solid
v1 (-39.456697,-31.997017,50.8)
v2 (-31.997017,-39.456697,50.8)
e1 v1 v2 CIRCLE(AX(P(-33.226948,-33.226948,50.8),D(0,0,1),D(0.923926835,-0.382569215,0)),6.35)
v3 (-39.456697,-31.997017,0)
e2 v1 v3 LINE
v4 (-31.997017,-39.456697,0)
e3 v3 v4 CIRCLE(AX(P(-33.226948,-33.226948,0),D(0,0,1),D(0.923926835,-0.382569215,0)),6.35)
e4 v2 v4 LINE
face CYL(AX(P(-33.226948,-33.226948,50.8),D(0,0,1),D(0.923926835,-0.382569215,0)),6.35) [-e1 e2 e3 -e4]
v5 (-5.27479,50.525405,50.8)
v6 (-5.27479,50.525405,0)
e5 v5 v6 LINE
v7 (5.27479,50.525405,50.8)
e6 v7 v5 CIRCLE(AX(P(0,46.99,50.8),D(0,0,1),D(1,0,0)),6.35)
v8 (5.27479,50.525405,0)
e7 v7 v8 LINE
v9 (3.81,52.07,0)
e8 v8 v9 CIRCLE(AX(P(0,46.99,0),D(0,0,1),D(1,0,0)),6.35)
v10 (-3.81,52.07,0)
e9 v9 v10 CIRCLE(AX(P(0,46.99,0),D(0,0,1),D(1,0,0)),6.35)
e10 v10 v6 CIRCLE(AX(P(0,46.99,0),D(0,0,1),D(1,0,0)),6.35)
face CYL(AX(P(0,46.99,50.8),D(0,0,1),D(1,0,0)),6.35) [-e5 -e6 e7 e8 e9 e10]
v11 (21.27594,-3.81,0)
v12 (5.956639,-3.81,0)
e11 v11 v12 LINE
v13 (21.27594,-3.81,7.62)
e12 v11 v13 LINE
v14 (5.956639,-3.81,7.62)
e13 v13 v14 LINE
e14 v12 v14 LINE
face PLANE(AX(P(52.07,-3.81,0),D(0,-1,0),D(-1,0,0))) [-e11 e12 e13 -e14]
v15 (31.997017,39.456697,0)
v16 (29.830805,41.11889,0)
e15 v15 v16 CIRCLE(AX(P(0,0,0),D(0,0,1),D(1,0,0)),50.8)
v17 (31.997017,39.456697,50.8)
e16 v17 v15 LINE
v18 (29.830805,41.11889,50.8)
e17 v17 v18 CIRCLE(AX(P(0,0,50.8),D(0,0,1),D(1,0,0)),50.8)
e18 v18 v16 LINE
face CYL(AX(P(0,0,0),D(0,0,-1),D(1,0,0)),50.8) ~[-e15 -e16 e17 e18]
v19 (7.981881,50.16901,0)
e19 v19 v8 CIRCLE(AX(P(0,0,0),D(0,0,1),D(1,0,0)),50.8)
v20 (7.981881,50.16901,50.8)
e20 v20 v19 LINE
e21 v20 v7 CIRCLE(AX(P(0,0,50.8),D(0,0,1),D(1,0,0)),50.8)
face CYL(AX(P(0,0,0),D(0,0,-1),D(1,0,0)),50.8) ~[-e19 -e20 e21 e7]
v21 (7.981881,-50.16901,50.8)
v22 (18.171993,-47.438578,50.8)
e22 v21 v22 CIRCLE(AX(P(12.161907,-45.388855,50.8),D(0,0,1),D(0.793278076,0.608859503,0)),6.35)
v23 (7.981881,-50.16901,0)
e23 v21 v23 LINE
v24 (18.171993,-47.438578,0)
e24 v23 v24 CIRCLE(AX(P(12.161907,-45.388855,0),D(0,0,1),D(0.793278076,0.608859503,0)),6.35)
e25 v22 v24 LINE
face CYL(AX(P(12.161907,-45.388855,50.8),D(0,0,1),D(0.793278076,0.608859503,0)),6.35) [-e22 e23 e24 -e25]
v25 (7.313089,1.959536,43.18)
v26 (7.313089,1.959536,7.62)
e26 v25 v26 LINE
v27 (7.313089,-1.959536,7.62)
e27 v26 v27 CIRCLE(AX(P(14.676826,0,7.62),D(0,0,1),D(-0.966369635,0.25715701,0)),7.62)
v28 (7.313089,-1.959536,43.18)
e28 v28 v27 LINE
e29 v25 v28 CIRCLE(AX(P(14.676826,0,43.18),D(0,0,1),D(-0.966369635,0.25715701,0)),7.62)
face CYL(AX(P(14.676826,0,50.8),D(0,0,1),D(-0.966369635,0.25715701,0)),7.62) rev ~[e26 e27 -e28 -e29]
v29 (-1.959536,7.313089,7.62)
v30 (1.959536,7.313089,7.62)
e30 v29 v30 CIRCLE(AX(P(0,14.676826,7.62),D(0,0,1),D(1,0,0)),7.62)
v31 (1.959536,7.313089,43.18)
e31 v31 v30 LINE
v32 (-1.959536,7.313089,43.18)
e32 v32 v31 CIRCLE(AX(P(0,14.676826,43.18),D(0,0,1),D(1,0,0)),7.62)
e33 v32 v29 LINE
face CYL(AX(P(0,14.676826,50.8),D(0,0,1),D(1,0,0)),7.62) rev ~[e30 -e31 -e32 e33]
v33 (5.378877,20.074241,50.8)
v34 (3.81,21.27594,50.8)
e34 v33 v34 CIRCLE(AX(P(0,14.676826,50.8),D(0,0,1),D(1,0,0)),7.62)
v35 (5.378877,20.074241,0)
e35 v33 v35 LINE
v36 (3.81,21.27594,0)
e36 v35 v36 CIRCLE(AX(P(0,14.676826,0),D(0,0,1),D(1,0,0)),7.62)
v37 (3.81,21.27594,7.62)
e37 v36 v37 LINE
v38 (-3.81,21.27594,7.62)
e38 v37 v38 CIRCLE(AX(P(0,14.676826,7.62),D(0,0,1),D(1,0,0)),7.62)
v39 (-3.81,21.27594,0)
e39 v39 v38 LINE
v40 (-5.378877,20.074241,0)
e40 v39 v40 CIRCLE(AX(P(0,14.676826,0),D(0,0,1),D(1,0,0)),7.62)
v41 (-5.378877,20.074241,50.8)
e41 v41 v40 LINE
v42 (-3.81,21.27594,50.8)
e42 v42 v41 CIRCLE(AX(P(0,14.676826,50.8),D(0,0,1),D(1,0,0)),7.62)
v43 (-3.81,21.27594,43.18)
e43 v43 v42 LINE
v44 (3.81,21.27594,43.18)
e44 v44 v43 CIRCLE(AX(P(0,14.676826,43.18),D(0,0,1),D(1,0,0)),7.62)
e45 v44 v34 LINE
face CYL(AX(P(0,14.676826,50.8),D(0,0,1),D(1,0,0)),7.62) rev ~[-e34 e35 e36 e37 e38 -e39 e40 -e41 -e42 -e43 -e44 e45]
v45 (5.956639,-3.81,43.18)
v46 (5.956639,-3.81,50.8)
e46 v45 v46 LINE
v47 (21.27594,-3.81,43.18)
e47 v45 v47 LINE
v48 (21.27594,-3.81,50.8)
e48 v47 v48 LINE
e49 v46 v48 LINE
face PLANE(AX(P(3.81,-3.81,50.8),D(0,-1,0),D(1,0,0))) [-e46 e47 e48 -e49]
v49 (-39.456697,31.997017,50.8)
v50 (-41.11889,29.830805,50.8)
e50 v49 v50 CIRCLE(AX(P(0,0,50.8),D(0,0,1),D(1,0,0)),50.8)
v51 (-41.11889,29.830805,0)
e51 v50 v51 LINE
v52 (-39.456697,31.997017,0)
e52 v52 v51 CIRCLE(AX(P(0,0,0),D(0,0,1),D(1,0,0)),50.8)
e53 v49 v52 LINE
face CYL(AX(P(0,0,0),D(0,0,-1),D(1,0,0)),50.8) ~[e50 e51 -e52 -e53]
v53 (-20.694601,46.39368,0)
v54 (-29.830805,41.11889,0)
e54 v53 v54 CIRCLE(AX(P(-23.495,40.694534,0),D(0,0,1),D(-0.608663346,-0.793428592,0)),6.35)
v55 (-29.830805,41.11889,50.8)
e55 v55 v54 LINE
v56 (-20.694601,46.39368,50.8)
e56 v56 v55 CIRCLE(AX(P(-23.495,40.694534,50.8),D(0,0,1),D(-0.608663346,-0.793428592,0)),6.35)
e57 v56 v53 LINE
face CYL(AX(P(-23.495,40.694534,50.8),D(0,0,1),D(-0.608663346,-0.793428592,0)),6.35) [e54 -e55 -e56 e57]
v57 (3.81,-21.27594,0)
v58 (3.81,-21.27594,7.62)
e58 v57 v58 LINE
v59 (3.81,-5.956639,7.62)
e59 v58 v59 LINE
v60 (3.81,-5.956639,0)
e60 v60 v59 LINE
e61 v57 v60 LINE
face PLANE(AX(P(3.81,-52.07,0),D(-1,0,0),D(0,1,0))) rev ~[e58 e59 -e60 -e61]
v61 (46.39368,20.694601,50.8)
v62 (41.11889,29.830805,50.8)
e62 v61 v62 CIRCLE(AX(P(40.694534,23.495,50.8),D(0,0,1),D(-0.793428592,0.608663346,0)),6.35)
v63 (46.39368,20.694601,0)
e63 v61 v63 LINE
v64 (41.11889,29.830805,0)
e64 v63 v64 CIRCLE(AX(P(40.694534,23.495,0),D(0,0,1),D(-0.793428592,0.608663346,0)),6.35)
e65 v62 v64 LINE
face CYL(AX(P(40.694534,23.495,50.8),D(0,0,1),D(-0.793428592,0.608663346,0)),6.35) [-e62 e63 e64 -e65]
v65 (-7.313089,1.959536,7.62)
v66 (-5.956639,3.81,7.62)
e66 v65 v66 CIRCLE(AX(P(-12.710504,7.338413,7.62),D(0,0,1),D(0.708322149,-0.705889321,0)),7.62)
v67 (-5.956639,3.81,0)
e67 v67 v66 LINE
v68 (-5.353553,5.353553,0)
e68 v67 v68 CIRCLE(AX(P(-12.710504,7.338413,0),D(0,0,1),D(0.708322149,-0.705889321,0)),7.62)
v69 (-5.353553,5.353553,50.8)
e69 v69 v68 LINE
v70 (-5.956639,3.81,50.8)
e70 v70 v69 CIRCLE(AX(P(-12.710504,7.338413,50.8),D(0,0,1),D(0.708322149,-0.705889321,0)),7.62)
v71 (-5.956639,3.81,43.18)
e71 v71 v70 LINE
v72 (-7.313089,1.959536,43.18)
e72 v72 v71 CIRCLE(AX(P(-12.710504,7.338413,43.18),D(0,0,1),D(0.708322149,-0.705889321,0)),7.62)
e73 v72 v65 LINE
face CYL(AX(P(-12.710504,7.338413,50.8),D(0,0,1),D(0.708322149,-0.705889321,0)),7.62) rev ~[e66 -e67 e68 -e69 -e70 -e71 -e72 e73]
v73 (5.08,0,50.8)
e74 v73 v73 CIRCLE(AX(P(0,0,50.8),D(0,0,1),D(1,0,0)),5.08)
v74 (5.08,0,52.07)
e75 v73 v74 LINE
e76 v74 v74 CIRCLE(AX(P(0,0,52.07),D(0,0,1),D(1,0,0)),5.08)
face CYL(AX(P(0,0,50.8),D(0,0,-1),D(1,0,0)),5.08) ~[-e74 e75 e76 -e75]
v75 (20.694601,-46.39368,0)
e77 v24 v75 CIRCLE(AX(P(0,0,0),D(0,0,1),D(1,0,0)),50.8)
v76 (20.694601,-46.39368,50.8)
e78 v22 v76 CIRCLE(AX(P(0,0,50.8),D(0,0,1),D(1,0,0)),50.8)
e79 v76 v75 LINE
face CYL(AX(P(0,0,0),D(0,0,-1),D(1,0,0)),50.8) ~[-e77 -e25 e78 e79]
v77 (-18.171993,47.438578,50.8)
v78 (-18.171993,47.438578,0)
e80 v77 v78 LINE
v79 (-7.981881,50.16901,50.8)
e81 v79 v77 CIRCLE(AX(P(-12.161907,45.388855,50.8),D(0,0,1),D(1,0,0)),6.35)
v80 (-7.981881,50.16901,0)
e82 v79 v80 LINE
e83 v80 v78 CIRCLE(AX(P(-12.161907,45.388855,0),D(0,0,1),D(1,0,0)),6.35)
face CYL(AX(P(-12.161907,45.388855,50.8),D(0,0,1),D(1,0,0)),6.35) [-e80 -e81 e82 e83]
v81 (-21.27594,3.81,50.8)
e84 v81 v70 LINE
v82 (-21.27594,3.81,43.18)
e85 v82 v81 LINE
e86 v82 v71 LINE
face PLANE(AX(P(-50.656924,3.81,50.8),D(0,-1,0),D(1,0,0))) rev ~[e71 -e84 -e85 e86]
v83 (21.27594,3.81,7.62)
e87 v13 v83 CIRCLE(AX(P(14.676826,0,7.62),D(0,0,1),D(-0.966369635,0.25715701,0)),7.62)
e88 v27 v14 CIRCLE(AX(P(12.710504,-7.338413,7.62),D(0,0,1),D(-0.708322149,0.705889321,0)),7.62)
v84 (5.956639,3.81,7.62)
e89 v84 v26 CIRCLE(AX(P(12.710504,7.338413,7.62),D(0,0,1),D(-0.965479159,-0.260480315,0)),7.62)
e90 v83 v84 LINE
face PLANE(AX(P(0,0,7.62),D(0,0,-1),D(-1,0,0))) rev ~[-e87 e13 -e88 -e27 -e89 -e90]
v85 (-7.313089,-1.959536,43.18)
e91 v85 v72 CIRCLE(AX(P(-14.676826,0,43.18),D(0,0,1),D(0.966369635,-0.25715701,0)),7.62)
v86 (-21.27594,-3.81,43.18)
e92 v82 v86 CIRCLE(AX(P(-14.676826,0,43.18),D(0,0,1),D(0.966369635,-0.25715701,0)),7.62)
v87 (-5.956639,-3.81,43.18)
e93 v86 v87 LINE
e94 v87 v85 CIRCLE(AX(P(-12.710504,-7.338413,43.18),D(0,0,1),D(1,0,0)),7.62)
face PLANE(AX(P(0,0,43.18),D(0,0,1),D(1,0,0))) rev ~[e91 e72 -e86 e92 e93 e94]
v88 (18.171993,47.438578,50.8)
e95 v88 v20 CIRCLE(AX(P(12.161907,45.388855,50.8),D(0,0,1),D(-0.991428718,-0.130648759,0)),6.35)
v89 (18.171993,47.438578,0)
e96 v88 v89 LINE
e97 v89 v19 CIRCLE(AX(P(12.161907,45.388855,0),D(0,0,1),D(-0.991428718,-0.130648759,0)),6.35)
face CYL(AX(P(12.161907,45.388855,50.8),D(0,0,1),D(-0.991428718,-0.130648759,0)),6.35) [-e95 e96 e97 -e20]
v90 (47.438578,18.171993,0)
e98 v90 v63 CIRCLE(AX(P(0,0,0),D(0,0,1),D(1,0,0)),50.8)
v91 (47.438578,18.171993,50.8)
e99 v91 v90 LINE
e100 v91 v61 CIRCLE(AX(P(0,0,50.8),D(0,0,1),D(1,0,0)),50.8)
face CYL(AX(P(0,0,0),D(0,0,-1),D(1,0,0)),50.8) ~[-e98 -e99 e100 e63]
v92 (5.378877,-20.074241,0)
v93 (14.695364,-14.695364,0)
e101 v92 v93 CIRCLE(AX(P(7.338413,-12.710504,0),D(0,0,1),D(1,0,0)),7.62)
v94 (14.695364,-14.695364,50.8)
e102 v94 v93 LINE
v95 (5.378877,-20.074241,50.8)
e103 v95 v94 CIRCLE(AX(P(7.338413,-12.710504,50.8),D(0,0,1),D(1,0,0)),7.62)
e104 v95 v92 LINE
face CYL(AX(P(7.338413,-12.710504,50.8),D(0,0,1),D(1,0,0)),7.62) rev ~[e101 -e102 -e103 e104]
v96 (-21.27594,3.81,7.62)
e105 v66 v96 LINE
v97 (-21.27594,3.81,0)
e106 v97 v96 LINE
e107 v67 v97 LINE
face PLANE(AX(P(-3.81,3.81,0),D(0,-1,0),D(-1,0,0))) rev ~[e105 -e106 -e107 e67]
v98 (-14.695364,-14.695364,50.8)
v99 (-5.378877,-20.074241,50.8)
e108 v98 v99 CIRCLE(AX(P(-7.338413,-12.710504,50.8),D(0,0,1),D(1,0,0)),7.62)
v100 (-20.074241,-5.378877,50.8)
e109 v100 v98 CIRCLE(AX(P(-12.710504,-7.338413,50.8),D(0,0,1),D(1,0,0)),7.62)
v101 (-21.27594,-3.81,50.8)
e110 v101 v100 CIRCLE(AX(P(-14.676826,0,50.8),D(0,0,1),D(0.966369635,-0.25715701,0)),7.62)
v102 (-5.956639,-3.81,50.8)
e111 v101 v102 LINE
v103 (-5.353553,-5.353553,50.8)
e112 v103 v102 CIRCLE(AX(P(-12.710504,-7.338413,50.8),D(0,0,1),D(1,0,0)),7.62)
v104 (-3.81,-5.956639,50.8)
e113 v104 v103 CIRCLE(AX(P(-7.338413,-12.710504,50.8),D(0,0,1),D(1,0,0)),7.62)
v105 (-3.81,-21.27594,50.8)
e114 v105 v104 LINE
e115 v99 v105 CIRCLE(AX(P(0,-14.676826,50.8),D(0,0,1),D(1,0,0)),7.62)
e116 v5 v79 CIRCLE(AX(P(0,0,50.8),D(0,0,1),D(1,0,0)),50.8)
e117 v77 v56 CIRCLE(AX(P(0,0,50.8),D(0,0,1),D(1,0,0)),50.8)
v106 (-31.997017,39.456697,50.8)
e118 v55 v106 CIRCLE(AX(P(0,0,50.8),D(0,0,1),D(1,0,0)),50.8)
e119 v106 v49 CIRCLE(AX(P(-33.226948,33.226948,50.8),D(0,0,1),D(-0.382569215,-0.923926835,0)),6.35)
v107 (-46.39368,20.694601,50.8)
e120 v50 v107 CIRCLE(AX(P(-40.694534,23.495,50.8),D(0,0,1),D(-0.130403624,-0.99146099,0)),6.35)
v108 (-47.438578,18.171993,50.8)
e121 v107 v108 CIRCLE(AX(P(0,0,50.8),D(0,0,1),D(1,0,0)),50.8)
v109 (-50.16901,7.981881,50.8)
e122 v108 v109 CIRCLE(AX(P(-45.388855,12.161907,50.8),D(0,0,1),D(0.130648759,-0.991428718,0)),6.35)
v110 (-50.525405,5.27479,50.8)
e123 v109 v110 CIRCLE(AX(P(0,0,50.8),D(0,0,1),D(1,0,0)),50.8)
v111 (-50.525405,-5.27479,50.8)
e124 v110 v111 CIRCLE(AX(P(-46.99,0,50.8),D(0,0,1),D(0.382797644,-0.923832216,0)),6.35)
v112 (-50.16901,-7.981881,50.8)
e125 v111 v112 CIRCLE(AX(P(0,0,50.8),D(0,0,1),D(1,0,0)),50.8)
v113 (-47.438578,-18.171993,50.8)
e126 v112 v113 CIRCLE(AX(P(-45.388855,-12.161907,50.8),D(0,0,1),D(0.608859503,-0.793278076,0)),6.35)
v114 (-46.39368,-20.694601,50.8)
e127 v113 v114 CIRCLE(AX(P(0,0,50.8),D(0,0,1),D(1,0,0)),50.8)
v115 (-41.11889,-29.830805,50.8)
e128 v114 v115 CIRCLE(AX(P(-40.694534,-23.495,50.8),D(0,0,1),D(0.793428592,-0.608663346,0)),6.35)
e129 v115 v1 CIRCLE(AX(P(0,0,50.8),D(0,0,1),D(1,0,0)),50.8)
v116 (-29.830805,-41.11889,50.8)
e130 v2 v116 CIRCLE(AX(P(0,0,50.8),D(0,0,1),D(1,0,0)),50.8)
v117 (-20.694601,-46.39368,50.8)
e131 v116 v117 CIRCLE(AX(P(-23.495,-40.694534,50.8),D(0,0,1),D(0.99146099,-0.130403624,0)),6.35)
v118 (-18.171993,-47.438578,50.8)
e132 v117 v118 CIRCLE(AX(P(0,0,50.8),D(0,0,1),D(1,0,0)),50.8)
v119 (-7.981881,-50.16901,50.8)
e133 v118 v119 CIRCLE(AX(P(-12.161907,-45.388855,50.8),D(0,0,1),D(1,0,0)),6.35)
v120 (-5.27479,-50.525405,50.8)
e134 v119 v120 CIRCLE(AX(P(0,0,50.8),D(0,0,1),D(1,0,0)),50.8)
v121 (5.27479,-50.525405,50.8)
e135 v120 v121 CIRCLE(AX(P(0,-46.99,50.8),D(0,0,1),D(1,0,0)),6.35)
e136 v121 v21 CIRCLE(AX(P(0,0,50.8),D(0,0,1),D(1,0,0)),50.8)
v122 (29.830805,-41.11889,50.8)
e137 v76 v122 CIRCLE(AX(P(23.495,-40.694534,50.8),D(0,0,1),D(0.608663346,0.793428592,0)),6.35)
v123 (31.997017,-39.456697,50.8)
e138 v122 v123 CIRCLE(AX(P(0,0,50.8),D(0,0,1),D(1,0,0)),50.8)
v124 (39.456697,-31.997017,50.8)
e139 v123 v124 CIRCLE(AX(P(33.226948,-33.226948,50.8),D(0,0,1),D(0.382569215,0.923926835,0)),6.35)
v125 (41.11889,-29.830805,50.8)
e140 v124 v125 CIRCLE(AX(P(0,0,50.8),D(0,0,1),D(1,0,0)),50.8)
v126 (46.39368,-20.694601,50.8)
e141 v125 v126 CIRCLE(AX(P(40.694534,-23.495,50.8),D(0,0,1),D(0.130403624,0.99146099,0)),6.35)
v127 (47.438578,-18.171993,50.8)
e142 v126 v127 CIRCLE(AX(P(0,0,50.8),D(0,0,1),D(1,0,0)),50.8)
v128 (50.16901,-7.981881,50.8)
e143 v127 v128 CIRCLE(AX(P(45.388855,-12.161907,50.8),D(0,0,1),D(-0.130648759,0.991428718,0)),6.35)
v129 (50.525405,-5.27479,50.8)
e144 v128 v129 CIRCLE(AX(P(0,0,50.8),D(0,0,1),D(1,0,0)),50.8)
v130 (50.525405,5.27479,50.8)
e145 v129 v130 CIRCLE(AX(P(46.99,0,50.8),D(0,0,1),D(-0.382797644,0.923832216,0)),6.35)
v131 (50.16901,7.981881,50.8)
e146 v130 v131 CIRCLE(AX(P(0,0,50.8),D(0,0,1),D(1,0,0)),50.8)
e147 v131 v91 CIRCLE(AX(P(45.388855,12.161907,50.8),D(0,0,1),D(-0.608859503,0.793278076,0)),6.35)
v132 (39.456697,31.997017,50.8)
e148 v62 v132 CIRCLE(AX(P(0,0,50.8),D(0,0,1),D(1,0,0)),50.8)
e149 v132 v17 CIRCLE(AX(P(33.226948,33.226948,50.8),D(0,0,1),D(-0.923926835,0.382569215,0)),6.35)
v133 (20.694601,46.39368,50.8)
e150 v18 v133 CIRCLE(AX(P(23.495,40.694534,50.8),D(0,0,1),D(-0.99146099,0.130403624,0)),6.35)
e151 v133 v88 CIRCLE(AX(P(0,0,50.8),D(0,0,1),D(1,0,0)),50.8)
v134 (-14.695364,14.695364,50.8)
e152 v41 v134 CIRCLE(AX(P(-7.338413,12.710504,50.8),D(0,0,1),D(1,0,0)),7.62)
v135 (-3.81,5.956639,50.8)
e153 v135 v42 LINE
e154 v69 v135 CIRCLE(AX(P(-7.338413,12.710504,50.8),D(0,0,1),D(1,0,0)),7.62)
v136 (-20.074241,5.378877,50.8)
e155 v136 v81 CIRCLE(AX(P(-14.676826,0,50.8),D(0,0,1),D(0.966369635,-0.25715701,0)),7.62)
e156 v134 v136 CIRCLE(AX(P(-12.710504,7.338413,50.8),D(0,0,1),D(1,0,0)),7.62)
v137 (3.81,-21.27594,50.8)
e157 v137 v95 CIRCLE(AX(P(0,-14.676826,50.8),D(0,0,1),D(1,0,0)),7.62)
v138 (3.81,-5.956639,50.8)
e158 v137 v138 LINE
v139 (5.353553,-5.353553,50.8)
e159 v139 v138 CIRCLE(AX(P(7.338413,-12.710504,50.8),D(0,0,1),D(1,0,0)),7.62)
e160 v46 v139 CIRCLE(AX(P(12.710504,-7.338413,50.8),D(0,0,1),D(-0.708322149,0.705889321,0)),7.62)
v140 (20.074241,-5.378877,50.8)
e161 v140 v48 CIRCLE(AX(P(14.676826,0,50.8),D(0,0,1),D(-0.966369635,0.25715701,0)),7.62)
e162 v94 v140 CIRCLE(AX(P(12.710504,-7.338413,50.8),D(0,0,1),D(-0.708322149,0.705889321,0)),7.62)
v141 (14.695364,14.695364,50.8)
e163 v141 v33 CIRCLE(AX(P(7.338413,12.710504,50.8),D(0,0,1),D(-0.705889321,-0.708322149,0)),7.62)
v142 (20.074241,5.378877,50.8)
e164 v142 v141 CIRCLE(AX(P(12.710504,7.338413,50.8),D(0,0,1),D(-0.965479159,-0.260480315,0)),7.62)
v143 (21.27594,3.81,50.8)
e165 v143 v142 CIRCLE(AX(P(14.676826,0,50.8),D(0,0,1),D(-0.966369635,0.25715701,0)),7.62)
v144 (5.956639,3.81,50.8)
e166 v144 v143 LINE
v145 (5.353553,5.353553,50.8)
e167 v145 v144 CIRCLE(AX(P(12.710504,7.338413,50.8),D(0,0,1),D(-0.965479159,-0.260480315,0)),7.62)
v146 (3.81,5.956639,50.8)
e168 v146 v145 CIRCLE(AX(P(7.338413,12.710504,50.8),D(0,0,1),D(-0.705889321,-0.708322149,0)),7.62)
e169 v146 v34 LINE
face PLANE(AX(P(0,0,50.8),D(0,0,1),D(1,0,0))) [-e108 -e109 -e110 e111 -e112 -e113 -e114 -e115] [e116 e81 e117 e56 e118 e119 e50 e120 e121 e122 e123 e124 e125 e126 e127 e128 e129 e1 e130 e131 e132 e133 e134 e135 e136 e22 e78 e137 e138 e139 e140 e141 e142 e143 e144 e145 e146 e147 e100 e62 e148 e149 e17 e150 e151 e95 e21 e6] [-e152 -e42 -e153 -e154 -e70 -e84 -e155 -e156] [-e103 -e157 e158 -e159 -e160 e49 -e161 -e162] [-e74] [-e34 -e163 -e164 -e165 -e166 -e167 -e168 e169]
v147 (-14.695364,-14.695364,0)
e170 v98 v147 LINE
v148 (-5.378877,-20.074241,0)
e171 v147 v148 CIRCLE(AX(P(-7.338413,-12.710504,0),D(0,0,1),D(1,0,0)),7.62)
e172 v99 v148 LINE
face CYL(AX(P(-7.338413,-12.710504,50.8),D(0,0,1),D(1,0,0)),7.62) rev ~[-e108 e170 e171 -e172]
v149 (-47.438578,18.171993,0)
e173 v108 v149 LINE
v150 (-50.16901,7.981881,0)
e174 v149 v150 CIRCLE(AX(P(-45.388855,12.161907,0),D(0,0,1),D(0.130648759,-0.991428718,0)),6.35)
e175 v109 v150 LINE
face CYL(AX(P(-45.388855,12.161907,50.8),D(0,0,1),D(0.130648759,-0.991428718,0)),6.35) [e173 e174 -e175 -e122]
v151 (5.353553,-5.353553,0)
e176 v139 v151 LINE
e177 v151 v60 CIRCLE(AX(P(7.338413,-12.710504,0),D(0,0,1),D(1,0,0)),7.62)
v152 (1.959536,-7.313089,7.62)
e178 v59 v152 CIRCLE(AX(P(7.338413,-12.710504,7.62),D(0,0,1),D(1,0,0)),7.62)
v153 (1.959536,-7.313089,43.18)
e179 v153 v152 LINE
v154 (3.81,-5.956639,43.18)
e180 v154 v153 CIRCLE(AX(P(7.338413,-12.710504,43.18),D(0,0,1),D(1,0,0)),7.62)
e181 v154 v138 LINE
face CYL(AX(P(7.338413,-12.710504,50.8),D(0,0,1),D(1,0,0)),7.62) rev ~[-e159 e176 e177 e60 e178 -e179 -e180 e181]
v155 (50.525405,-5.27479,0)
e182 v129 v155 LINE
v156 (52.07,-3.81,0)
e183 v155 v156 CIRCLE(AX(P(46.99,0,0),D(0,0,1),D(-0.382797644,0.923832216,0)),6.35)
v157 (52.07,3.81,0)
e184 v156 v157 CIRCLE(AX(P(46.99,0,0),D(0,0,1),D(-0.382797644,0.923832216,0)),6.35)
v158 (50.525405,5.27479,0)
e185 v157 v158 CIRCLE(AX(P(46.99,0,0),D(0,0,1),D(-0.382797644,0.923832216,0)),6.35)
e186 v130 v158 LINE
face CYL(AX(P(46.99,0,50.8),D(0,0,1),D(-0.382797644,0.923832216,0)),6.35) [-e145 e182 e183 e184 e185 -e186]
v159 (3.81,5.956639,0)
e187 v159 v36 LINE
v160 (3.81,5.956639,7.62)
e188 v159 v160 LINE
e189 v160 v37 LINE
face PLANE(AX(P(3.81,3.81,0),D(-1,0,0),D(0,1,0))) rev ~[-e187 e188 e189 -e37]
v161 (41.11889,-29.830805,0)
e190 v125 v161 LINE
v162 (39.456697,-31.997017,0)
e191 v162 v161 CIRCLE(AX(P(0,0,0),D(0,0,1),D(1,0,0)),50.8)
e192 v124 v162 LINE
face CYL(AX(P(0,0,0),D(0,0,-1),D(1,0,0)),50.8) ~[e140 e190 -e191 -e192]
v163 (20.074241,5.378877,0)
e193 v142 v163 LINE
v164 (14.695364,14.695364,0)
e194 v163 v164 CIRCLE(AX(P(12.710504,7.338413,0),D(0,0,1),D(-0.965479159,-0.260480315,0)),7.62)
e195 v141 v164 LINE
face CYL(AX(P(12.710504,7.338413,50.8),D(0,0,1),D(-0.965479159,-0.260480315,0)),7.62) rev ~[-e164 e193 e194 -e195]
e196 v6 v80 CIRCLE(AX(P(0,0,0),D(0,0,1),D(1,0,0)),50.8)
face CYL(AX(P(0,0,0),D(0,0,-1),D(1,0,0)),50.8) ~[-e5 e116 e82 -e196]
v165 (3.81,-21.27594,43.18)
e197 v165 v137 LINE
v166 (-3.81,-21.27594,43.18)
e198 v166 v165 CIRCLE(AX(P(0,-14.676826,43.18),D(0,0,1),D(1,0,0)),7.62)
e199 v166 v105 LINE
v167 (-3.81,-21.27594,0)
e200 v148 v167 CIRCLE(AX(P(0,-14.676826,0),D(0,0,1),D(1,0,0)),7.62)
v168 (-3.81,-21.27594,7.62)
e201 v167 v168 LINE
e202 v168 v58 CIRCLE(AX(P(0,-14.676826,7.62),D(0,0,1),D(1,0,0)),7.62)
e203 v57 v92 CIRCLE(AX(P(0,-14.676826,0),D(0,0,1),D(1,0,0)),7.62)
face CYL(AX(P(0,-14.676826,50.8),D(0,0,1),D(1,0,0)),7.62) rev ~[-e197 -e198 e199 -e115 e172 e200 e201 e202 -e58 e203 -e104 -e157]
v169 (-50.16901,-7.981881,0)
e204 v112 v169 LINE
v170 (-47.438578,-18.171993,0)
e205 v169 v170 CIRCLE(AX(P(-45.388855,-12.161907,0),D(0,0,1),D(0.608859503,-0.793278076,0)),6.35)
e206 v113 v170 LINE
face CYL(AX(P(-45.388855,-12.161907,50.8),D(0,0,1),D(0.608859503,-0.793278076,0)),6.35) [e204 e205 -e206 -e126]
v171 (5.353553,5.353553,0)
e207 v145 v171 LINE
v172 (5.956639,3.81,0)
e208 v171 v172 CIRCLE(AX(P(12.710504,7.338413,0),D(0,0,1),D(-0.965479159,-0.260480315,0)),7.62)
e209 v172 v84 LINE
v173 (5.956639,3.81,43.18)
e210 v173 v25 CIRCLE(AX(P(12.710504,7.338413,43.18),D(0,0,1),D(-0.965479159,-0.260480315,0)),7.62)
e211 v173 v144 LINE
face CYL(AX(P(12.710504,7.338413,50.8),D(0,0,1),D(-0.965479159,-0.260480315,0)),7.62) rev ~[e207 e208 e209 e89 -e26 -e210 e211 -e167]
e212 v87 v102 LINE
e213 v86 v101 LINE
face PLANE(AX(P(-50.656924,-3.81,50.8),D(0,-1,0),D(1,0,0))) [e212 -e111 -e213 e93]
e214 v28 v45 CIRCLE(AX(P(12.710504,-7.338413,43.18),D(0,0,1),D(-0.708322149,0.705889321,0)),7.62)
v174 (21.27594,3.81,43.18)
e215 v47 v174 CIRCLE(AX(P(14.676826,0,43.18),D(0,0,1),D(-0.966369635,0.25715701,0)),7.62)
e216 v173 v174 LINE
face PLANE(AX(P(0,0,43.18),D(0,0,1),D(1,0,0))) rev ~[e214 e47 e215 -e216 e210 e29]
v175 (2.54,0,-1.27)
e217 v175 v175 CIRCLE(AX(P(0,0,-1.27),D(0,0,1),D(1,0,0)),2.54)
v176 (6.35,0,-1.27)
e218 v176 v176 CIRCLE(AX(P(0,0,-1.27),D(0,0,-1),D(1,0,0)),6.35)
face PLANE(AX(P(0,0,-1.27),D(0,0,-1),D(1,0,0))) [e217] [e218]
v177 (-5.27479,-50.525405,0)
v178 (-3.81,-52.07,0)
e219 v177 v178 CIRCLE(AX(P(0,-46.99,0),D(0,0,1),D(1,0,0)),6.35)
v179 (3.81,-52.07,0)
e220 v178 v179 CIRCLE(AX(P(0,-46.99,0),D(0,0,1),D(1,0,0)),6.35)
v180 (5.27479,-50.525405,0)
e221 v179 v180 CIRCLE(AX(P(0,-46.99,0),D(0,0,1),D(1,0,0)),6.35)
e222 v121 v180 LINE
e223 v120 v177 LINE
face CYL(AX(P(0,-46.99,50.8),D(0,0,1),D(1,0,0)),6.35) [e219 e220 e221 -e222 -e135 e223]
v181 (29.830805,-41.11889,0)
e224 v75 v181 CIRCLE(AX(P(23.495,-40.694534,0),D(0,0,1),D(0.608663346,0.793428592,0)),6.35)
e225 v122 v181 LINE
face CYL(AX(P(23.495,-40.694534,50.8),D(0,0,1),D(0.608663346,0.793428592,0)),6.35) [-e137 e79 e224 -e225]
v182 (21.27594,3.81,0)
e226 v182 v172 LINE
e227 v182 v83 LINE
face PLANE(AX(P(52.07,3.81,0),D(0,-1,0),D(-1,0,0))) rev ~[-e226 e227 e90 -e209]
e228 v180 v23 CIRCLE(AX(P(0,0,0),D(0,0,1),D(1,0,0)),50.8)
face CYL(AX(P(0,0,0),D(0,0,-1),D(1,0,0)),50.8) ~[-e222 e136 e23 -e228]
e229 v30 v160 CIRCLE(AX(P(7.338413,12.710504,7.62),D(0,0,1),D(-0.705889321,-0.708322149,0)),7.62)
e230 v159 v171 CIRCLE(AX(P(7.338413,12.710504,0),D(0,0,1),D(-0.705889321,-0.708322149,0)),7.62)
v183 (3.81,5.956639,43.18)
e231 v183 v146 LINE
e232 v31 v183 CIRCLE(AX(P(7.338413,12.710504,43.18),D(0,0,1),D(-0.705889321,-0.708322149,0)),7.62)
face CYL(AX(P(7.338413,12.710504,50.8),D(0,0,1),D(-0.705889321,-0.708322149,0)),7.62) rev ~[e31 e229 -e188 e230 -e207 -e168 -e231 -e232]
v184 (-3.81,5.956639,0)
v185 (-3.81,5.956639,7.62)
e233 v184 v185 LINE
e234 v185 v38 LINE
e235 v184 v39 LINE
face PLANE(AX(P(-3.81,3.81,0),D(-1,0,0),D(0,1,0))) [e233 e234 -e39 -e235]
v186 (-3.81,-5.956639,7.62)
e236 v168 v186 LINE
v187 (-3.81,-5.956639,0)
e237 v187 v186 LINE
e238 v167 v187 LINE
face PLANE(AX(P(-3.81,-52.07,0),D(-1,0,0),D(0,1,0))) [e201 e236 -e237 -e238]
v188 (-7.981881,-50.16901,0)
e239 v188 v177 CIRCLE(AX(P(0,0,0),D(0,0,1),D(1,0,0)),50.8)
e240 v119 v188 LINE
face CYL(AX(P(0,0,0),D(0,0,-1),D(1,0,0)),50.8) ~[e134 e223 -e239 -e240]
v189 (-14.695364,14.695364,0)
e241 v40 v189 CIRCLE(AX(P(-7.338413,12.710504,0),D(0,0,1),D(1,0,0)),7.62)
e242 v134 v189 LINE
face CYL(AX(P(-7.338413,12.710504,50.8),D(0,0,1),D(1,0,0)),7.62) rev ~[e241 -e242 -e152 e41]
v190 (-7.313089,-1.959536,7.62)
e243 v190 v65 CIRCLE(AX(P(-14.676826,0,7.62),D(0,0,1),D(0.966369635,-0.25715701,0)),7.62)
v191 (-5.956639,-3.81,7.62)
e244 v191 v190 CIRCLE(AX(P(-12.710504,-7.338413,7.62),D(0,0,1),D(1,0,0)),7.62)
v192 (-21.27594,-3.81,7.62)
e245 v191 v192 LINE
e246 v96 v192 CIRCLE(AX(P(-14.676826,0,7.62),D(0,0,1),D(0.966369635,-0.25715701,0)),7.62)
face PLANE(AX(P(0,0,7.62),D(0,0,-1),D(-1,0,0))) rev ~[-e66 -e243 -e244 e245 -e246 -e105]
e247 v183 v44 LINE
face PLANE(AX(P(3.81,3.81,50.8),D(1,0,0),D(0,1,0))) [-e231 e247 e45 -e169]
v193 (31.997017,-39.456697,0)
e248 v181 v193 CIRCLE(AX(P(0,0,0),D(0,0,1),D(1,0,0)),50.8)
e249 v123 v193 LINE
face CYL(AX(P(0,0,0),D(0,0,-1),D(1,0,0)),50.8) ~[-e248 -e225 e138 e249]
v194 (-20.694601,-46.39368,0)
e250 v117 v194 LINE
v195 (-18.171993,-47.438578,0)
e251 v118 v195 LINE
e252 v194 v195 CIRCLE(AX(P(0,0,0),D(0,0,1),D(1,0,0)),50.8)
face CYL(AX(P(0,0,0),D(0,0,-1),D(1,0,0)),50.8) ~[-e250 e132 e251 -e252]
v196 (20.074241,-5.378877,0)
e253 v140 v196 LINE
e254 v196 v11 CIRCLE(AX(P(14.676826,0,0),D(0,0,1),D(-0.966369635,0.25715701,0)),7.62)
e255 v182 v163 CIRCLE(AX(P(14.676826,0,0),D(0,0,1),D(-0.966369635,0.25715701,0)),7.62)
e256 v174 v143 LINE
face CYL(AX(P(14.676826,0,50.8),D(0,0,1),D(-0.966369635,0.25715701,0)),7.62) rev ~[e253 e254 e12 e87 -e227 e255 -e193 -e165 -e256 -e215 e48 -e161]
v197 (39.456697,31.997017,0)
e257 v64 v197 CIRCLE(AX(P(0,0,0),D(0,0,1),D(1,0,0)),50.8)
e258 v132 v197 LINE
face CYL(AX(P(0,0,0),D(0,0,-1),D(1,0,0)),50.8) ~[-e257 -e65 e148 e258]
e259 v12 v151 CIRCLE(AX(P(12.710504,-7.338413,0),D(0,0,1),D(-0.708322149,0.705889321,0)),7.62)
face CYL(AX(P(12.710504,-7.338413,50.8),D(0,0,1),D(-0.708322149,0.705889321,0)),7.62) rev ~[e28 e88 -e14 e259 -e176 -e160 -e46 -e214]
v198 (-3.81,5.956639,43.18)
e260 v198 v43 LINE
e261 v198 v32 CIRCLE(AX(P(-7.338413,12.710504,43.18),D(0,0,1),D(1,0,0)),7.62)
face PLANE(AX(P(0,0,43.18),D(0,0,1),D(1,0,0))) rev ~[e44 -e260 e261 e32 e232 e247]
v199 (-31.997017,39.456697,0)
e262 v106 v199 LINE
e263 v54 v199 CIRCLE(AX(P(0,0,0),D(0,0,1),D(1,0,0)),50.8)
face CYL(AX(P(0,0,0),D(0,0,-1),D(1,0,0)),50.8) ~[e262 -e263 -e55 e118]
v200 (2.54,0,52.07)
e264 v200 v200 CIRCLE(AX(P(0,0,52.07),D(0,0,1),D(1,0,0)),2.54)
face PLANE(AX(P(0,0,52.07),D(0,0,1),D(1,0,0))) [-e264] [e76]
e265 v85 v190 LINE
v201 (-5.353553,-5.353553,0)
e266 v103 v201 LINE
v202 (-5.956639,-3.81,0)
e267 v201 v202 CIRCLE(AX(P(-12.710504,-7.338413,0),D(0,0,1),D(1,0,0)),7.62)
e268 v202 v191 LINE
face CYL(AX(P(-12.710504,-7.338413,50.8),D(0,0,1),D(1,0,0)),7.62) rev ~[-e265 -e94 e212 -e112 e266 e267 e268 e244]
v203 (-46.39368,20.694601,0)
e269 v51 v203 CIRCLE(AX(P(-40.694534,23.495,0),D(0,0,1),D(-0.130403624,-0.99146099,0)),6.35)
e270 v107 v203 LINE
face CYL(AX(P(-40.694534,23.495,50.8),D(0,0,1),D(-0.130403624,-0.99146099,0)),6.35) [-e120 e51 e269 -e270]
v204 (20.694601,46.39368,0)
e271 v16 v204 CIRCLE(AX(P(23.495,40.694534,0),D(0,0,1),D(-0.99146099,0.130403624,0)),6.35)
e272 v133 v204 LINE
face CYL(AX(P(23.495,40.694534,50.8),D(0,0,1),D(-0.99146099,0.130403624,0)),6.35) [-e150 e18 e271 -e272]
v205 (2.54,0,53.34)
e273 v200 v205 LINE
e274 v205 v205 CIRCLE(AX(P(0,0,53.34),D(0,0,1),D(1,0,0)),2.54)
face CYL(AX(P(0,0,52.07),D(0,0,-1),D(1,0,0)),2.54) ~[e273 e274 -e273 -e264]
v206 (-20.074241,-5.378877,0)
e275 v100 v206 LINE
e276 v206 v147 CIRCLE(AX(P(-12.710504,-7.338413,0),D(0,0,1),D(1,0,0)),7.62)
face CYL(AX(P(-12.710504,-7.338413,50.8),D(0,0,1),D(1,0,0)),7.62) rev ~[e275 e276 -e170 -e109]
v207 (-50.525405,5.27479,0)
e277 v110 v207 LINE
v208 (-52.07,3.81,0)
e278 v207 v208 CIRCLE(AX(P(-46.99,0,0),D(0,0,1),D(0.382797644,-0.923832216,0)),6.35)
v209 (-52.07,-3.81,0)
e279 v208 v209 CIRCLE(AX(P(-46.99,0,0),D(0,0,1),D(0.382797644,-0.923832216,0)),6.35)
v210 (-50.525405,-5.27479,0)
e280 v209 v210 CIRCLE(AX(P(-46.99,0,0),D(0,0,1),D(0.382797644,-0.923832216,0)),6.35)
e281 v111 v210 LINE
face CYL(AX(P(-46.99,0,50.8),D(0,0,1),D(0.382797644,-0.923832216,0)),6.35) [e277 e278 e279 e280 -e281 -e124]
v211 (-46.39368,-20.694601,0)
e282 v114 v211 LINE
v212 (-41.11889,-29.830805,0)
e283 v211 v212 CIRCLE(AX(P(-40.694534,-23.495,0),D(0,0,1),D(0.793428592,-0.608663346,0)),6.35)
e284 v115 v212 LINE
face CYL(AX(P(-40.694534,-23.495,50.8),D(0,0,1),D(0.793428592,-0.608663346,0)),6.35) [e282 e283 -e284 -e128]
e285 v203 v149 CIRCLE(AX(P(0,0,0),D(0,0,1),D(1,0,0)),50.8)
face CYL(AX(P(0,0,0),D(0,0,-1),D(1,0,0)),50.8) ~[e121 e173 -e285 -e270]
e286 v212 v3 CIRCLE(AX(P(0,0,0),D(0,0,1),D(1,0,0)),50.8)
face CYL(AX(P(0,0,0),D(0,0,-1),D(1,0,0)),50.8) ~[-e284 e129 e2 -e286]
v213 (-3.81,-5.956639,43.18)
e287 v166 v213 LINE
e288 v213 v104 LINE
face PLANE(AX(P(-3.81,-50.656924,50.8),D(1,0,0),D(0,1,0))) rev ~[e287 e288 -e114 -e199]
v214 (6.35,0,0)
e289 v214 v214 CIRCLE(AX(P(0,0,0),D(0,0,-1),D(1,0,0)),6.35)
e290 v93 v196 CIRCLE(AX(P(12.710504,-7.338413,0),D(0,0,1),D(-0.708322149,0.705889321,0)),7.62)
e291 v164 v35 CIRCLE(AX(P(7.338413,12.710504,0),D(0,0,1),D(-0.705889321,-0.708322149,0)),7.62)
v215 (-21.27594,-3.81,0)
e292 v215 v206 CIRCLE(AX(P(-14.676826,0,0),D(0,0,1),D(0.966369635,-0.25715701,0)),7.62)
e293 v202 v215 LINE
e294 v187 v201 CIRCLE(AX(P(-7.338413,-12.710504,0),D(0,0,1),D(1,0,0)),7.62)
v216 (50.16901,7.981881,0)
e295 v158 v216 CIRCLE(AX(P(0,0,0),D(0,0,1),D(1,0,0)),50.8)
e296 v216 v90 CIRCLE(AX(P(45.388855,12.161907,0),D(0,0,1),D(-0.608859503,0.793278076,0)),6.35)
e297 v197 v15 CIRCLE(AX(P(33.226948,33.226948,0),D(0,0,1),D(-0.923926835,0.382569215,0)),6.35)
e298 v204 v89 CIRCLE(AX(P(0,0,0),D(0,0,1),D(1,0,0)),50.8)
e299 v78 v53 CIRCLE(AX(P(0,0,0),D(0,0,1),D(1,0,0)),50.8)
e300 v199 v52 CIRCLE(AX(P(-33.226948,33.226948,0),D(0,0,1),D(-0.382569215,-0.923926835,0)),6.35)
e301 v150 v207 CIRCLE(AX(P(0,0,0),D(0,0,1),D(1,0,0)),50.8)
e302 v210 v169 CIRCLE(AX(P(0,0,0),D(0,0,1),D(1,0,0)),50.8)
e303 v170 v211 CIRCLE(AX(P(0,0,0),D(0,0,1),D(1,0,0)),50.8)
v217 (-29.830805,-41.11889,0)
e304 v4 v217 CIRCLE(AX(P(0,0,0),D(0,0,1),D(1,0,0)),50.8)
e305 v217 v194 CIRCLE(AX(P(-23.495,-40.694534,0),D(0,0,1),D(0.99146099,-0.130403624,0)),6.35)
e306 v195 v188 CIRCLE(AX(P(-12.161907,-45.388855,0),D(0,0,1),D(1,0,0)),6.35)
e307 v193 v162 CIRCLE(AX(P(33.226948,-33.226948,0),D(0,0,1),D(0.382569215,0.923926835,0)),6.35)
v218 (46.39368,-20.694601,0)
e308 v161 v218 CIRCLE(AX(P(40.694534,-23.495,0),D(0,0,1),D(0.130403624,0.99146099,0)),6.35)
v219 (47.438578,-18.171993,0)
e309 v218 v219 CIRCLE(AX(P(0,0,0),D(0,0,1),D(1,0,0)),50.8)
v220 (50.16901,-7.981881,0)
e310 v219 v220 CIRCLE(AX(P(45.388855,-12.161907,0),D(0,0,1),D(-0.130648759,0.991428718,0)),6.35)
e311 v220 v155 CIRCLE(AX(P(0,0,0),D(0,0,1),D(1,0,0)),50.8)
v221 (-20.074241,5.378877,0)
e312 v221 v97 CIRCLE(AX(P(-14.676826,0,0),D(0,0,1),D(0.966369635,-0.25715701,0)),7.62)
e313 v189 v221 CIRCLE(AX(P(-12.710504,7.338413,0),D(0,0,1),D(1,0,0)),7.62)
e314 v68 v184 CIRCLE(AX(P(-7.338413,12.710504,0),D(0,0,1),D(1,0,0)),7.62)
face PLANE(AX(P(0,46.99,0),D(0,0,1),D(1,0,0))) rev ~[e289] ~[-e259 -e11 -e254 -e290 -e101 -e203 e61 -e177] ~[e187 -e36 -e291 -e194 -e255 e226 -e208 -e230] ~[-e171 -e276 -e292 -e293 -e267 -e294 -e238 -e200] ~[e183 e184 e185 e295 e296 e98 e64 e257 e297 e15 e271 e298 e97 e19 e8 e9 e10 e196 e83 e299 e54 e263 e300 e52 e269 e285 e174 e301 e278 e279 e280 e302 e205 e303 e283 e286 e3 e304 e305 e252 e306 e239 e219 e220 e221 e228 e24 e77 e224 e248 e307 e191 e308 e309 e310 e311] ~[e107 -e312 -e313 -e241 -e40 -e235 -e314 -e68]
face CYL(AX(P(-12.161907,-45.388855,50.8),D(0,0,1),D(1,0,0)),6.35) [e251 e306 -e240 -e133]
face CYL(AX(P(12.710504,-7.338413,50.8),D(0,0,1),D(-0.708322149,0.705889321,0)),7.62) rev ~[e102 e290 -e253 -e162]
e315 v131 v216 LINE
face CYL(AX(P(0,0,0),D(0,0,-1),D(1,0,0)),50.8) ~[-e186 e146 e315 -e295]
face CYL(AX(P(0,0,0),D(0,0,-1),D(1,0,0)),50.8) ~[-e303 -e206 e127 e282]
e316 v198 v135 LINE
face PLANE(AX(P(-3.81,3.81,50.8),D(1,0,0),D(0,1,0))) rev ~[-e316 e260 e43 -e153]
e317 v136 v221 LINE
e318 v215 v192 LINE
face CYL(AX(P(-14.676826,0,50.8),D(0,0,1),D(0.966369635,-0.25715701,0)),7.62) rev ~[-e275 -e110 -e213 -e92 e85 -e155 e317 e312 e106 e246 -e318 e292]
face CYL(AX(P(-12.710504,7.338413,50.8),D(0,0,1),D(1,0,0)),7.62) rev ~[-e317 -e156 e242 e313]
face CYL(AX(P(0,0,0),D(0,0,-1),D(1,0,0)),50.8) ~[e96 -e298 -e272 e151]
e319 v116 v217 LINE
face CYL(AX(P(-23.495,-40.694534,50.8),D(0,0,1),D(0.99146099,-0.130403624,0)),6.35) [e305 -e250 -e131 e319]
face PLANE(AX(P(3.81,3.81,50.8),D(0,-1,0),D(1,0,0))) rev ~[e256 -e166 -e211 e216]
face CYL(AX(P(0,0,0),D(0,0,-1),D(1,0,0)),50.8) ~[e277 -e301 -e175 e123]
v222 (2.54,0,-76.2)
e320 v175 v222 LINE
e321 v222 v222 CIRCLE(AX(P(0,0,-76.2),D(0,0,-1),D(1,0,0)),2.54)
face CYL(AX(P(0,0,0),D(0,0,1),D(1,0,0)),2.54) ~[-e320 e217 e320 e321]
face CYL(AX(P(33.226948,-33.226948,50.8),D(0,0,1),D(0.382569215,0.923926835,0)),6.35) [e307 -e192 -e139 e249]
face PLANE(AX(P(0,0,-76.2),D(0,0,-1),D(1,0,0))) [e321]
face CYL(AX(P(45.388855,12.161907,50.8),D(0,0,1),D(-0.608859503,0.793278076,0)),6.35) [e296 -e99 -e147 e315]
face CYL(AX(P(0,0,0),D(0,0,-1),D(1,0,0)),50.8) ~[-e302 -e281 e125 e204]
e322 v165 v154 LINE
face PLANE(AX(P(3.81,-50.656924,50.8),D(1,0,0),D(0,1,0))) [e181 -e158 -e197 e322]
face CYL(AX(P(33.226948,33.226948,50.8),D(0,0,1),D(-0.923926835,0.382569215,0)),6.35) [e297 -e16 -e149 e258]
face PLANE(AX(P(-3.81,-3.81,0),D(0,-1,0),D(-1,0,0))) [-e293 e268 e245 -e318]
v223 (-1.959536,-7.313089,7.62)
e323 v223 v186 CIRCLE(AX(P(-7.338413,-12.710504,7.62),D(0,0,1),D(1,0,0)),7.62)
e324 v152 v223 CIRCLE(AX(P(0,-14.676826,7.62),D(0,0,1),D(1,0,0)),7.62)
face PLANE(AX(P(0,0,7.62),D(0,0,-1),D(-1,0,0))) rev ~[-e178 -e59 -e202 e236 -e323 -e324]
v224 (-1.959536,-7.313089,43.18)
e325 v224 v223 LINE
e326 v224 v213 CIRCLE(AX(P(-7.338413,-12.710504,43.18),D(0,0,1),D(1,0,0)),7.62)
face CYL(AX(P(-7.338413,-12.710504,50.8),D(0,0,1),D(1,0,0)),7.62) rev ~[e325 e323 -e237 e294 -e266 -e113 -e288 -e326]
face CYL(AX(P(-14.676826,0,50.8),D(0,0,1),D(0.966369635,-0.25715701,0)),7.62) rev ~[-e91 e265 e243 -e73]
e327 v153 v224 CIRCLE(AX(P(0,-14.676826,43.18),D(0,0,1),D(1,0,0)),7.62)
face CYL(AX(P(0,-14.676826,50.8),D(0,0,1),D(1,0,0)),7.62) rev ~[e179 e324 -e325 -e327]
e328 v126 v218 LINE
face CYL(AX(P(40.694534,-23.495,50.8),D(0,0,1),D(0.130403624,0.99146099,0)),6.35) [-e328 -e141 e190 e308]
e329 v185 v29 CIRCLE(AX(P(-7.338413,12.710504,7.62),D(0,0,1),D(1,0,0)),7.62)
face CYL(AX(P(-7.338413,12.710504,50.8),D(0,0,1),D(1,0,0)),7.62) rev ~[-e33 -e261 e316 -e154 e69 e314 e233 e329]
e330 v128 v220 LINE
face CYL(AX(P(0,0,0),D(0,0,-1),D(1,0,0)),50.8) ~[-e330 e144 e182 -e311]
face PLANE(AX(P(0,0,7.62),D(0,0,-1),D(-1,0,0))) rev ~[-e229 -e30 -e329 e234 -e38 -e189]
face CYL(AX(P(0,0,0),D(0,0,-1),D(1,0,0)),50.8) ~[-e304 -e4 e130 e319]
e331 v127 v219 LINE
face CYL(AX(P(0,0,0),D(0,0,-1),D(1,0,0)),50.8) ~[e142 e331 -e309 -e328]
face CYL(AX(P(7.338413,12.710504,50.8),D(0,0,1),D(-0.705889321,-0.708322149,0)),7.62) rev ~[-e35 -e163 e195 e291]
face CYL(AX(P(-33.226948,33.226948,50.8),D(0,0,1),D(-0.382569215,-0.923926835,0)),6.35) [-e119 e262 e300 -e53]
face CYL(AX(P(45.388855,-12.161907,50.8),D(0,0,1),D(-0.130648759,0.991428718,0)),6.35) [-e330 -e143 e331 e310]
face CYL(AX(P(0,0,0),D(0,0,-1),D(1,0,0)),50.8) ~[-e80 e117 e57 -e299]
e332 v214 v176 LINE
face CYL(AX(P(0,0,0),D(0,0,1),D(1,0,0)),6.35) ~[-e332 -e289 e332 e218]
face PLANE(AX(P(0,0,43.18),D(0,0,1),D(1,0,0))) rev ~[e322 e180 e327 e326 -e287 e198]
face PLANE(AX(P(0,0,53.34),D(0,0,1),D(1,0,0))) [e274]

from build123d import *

# Parameters (mm, degrees)
SKETCH1_R            = 50.8
BOSS_EXTRUDE3_DEPTH  = 50.8
SKETCH5_R            = 7.62
CUT_EXTRUDE2_DEPTH   = 50.8
SKETCH6_W            = 101.31384703
SKETCH6_H            = 7.62
SKETCH6_W_2          = 7.62
SKETCH6_H_2          = 101.31384703
BOSS_EXTRUDE4_DEPTH  = 7.62
SKETCH7_R            = 5.08
BOSS_EXTRUDE5_DEPTH  = 1.27
SKETCH8_R            = 2.54
BOSS_EXTRUDE6_DEPTH  = 1.27
SKETCH9_R            = 2.54
BOSS_EXTRUDE7_DEPTH  = 76.2
SKETCH10_R           = 6.35
BOSS_EXTRUDE8_DEPTH  = 50.8
SKETCH11_W           = 7.62
SKETCH11_H           = 104.14
SKETCH11_W_2         = 104.14
SKETCH11_H_2         = 7.62
BOSS_EXTRUDE9_DEPTH  = 7.62
SKETCH12_R           = 6.35
BOSS_EXTRUDE10_DEPTH = 1.27


with BuildPart() as part:
    # Sketch1 → Boss-Extrude3 (new body)
    with BuildSketch(Plane.XY):
        Circle(SKETCH1_R)
    extrude(amount=BOSS_EXTRUDE3_DEPTH)

    # Sketch5 → Cut-Extrude2 (cut)
    with BuildSketch(Plane.XY.offset(50.8)):
        with Locations((0, 14.676826076)):
            Circle(SKETCH5_R)
        with Locations((7.338413038, 12.710504229)):
            Circle(SKETCH5_R)
        with Locations((12.710504229, 7.338413038)):
            Circle(SKETCH5_R)
        with Locations((14.676826076, 0)):
            Circle(SKETCH5_R)
        with Locations((12.710504229, -7.338413038)):
            Circle(SKETCH5_R)
        with Locations((7.338413038, -12.710504229)):
            Circle(SKETCH5_R)
        with Locations((0, -14.676826076)):
            Circle(SKETCH5_R)
        with Locations((-7.338413038, -12.710504229)):
            Circle(SKETCH5_R)
        with Locations((-12.710504229, -7.338413038)):
            Circle(SKETCH5_R)
        with Locations((-14.676826076, 0)):
            Circle(SKETCH5_R)
        with Locations((-12.710504229, 7.338413038)):
            Circle(SKETCH5_R)
        with Locations((-7.338413038, 12.710504229)):
            Circle(SKETCH5_R)
    extrude(amount=-CUT_EXTRUDE2_DEPTH, mode=Mode.SUBTRACT)


with BuildPart() as cut_extrude2_piece_1:
    # of the separate pieces the step leaves, piece 1, a body of its own (cut_extrude2_pieces)
    add(part.part.solids().sort_by_distance((50.8, 0, 0))[0])



with BuildPart() as cut_extrude2_piece_2:
    # of the separate pieces the step leaves, piece 2, a body of its own (cut_extrude2_pieces)
    add(part.part.solids().sort_by_distance((-5.35355304, 5.35355304, 0))[0])


with BuildPart() as cut_extrude2_piece_1_1:
    add(cut_extrude2_piece_1.part)

    add(cut_extrude2_piece_2.part)  # Boss-Extrude4 merges Cut-Extrude2 piece 2
    # Sketch6 → Boss-Extrude4 (add)
    with BuildSketch(Plane.XY.offset(50.8)):
        Rectangle(SKETCH6_W, SKETCH6_H)
        Rectangle(SKETCH6_W_2, SKETCH6_H_2)
    extrude(amount=-BOSS_EXTRUDE4_DEPTH)

    # Sketch7 → Boss-Extrude5 (add)
    with BuildSketch(Plane.XY.offset(50.8)):
        Circle(SKETCH7_R)
    extrude(amount=BOSS_EXTRUDE5_DEPTH)

    # Sketch8 → Boss-Extrude6 (add)
    with BuildSketch(Plane.XY.offset(52.07)):
        Circle(SKETCH8_R)
    extrude(amount=BOSS_EXTRUDE6_DEPTH)

    # Sketch9 → Boss-Extrude7 (add)
    with BuildSketch(Plane(origin=(0, 0, 0), x_dir=(-1, 0, 0), z_dir=(0, 0, -1))):
        with Locations(Location((0, 0, 0), (0, 0, 180))):
            Circle(SKETCH9_R)
    extrude(amount=BOSS_EXTRUDE7_DEPTH)

    # Sketch10 → Boss-Extrude8 (add)
    with BuildSketch(Plane.XY.offset(50.8)):
        with Locations((0, 46.99)):
            Circle(SKETCH10_R)
        with Locations((12.161906929, 45.388854577)):
            Circle(SKETCH10_R)
        with Locations((23.495, 40.694533724)):
            Circle(SKETCH10_R)
        with Locations((33.226947648, 33.226947648)):
            Circle(SKETCH10_R)
        with Locations((40.694533724, 23.495)):
            Circle(SKETCH10_R)
        with Locations((45.388854577, 12.161906929)):
            Circle(SKETCH10_R)
        with Locations((46.99, 0)):
            Circle(SKETCH10_R)
        with Locations((45.388854577, -12.161906929)):
            Circle(SKETCH10_R)
        with Locations((40.694533724, -23.495)):
            Circle(SKETCH10_R)
        with Locations((33.226947648, -33.226947648)):
            Circle(SKETCH10_R)
        with Locations((23.495, -40.694533724)):
            Circle(SKETCH10_R)
        with Locations((12.161906929, -45.388854577)):
            Circle(SKETCH10_R)
        with Locations((0, -46.99)):
            Circle(SKETCH10_R)
        with Locations((-12.161906929, -45.388854577)):
            Circle(SKETCH10_R)
        with Locations((-23.495, -40.694533724)):
            Circle(SKETCH10_R)
        with Locations((-33.226947648, -33.226947648)):
            Circle(SKETCH10_R)
        with Locations((-40.694533724, -23.495)):
            Circle(SKETCH10_R)
        with Locations((-45.388854577, -12.161906929)):
            Circle(SKETCH10_R)
        with Locations((-46.99, 0)):
            Circle(SKETCH10_R)
        with Locations((-45.388854577, 12.161906929)):
            Circle(SKETCH10_R)
        with Locations((-40.694533724, 23.495)):
            Circle(SKETCH10_R)
        with Locations((-33.226947648, 33.226947648)):
            Circle(SKETCH10_R)
        with Locations((-23.495, 40.694533724)):
            Circle(SKETCH10_R)
        with Locations((-12.161906929, 45.388854577)):
            Circle(SKETCH10_R)
    extrude(amount=-BOSS_EXTRUDE8_DEPTH)

    # Sketch11 → Boss-Extrude9 (add)
    with BuildSketch(Plane(origin=(0, 0, 0), x_dir=(-1, 0, 0), z_dir=(0, 0, -1))):
        Rectangle(SKETCH11_W, SKETCH11_H)
        Rectangle(SKETCH11_W_2, SKETCH11_H_2)
    extrude(amount=-BOSS_EXTRUDE9_DEPTH)

    # Sketch12 → Boss-Extrude10 (add)
    with BuildSketch(Plane(origin=(0, 0, 0), x_dir=(-1, 0, 0), z_dir=(0, 0, -1))):
        with Locations(Location((0, 0, 0), (0, 0, 180))):
            Circle(SKETCH12_R)
    extrude(amount=BOSS_EXTRUDE10_DEPTH)


solid = cut_extrude2_piece_1_1.part
